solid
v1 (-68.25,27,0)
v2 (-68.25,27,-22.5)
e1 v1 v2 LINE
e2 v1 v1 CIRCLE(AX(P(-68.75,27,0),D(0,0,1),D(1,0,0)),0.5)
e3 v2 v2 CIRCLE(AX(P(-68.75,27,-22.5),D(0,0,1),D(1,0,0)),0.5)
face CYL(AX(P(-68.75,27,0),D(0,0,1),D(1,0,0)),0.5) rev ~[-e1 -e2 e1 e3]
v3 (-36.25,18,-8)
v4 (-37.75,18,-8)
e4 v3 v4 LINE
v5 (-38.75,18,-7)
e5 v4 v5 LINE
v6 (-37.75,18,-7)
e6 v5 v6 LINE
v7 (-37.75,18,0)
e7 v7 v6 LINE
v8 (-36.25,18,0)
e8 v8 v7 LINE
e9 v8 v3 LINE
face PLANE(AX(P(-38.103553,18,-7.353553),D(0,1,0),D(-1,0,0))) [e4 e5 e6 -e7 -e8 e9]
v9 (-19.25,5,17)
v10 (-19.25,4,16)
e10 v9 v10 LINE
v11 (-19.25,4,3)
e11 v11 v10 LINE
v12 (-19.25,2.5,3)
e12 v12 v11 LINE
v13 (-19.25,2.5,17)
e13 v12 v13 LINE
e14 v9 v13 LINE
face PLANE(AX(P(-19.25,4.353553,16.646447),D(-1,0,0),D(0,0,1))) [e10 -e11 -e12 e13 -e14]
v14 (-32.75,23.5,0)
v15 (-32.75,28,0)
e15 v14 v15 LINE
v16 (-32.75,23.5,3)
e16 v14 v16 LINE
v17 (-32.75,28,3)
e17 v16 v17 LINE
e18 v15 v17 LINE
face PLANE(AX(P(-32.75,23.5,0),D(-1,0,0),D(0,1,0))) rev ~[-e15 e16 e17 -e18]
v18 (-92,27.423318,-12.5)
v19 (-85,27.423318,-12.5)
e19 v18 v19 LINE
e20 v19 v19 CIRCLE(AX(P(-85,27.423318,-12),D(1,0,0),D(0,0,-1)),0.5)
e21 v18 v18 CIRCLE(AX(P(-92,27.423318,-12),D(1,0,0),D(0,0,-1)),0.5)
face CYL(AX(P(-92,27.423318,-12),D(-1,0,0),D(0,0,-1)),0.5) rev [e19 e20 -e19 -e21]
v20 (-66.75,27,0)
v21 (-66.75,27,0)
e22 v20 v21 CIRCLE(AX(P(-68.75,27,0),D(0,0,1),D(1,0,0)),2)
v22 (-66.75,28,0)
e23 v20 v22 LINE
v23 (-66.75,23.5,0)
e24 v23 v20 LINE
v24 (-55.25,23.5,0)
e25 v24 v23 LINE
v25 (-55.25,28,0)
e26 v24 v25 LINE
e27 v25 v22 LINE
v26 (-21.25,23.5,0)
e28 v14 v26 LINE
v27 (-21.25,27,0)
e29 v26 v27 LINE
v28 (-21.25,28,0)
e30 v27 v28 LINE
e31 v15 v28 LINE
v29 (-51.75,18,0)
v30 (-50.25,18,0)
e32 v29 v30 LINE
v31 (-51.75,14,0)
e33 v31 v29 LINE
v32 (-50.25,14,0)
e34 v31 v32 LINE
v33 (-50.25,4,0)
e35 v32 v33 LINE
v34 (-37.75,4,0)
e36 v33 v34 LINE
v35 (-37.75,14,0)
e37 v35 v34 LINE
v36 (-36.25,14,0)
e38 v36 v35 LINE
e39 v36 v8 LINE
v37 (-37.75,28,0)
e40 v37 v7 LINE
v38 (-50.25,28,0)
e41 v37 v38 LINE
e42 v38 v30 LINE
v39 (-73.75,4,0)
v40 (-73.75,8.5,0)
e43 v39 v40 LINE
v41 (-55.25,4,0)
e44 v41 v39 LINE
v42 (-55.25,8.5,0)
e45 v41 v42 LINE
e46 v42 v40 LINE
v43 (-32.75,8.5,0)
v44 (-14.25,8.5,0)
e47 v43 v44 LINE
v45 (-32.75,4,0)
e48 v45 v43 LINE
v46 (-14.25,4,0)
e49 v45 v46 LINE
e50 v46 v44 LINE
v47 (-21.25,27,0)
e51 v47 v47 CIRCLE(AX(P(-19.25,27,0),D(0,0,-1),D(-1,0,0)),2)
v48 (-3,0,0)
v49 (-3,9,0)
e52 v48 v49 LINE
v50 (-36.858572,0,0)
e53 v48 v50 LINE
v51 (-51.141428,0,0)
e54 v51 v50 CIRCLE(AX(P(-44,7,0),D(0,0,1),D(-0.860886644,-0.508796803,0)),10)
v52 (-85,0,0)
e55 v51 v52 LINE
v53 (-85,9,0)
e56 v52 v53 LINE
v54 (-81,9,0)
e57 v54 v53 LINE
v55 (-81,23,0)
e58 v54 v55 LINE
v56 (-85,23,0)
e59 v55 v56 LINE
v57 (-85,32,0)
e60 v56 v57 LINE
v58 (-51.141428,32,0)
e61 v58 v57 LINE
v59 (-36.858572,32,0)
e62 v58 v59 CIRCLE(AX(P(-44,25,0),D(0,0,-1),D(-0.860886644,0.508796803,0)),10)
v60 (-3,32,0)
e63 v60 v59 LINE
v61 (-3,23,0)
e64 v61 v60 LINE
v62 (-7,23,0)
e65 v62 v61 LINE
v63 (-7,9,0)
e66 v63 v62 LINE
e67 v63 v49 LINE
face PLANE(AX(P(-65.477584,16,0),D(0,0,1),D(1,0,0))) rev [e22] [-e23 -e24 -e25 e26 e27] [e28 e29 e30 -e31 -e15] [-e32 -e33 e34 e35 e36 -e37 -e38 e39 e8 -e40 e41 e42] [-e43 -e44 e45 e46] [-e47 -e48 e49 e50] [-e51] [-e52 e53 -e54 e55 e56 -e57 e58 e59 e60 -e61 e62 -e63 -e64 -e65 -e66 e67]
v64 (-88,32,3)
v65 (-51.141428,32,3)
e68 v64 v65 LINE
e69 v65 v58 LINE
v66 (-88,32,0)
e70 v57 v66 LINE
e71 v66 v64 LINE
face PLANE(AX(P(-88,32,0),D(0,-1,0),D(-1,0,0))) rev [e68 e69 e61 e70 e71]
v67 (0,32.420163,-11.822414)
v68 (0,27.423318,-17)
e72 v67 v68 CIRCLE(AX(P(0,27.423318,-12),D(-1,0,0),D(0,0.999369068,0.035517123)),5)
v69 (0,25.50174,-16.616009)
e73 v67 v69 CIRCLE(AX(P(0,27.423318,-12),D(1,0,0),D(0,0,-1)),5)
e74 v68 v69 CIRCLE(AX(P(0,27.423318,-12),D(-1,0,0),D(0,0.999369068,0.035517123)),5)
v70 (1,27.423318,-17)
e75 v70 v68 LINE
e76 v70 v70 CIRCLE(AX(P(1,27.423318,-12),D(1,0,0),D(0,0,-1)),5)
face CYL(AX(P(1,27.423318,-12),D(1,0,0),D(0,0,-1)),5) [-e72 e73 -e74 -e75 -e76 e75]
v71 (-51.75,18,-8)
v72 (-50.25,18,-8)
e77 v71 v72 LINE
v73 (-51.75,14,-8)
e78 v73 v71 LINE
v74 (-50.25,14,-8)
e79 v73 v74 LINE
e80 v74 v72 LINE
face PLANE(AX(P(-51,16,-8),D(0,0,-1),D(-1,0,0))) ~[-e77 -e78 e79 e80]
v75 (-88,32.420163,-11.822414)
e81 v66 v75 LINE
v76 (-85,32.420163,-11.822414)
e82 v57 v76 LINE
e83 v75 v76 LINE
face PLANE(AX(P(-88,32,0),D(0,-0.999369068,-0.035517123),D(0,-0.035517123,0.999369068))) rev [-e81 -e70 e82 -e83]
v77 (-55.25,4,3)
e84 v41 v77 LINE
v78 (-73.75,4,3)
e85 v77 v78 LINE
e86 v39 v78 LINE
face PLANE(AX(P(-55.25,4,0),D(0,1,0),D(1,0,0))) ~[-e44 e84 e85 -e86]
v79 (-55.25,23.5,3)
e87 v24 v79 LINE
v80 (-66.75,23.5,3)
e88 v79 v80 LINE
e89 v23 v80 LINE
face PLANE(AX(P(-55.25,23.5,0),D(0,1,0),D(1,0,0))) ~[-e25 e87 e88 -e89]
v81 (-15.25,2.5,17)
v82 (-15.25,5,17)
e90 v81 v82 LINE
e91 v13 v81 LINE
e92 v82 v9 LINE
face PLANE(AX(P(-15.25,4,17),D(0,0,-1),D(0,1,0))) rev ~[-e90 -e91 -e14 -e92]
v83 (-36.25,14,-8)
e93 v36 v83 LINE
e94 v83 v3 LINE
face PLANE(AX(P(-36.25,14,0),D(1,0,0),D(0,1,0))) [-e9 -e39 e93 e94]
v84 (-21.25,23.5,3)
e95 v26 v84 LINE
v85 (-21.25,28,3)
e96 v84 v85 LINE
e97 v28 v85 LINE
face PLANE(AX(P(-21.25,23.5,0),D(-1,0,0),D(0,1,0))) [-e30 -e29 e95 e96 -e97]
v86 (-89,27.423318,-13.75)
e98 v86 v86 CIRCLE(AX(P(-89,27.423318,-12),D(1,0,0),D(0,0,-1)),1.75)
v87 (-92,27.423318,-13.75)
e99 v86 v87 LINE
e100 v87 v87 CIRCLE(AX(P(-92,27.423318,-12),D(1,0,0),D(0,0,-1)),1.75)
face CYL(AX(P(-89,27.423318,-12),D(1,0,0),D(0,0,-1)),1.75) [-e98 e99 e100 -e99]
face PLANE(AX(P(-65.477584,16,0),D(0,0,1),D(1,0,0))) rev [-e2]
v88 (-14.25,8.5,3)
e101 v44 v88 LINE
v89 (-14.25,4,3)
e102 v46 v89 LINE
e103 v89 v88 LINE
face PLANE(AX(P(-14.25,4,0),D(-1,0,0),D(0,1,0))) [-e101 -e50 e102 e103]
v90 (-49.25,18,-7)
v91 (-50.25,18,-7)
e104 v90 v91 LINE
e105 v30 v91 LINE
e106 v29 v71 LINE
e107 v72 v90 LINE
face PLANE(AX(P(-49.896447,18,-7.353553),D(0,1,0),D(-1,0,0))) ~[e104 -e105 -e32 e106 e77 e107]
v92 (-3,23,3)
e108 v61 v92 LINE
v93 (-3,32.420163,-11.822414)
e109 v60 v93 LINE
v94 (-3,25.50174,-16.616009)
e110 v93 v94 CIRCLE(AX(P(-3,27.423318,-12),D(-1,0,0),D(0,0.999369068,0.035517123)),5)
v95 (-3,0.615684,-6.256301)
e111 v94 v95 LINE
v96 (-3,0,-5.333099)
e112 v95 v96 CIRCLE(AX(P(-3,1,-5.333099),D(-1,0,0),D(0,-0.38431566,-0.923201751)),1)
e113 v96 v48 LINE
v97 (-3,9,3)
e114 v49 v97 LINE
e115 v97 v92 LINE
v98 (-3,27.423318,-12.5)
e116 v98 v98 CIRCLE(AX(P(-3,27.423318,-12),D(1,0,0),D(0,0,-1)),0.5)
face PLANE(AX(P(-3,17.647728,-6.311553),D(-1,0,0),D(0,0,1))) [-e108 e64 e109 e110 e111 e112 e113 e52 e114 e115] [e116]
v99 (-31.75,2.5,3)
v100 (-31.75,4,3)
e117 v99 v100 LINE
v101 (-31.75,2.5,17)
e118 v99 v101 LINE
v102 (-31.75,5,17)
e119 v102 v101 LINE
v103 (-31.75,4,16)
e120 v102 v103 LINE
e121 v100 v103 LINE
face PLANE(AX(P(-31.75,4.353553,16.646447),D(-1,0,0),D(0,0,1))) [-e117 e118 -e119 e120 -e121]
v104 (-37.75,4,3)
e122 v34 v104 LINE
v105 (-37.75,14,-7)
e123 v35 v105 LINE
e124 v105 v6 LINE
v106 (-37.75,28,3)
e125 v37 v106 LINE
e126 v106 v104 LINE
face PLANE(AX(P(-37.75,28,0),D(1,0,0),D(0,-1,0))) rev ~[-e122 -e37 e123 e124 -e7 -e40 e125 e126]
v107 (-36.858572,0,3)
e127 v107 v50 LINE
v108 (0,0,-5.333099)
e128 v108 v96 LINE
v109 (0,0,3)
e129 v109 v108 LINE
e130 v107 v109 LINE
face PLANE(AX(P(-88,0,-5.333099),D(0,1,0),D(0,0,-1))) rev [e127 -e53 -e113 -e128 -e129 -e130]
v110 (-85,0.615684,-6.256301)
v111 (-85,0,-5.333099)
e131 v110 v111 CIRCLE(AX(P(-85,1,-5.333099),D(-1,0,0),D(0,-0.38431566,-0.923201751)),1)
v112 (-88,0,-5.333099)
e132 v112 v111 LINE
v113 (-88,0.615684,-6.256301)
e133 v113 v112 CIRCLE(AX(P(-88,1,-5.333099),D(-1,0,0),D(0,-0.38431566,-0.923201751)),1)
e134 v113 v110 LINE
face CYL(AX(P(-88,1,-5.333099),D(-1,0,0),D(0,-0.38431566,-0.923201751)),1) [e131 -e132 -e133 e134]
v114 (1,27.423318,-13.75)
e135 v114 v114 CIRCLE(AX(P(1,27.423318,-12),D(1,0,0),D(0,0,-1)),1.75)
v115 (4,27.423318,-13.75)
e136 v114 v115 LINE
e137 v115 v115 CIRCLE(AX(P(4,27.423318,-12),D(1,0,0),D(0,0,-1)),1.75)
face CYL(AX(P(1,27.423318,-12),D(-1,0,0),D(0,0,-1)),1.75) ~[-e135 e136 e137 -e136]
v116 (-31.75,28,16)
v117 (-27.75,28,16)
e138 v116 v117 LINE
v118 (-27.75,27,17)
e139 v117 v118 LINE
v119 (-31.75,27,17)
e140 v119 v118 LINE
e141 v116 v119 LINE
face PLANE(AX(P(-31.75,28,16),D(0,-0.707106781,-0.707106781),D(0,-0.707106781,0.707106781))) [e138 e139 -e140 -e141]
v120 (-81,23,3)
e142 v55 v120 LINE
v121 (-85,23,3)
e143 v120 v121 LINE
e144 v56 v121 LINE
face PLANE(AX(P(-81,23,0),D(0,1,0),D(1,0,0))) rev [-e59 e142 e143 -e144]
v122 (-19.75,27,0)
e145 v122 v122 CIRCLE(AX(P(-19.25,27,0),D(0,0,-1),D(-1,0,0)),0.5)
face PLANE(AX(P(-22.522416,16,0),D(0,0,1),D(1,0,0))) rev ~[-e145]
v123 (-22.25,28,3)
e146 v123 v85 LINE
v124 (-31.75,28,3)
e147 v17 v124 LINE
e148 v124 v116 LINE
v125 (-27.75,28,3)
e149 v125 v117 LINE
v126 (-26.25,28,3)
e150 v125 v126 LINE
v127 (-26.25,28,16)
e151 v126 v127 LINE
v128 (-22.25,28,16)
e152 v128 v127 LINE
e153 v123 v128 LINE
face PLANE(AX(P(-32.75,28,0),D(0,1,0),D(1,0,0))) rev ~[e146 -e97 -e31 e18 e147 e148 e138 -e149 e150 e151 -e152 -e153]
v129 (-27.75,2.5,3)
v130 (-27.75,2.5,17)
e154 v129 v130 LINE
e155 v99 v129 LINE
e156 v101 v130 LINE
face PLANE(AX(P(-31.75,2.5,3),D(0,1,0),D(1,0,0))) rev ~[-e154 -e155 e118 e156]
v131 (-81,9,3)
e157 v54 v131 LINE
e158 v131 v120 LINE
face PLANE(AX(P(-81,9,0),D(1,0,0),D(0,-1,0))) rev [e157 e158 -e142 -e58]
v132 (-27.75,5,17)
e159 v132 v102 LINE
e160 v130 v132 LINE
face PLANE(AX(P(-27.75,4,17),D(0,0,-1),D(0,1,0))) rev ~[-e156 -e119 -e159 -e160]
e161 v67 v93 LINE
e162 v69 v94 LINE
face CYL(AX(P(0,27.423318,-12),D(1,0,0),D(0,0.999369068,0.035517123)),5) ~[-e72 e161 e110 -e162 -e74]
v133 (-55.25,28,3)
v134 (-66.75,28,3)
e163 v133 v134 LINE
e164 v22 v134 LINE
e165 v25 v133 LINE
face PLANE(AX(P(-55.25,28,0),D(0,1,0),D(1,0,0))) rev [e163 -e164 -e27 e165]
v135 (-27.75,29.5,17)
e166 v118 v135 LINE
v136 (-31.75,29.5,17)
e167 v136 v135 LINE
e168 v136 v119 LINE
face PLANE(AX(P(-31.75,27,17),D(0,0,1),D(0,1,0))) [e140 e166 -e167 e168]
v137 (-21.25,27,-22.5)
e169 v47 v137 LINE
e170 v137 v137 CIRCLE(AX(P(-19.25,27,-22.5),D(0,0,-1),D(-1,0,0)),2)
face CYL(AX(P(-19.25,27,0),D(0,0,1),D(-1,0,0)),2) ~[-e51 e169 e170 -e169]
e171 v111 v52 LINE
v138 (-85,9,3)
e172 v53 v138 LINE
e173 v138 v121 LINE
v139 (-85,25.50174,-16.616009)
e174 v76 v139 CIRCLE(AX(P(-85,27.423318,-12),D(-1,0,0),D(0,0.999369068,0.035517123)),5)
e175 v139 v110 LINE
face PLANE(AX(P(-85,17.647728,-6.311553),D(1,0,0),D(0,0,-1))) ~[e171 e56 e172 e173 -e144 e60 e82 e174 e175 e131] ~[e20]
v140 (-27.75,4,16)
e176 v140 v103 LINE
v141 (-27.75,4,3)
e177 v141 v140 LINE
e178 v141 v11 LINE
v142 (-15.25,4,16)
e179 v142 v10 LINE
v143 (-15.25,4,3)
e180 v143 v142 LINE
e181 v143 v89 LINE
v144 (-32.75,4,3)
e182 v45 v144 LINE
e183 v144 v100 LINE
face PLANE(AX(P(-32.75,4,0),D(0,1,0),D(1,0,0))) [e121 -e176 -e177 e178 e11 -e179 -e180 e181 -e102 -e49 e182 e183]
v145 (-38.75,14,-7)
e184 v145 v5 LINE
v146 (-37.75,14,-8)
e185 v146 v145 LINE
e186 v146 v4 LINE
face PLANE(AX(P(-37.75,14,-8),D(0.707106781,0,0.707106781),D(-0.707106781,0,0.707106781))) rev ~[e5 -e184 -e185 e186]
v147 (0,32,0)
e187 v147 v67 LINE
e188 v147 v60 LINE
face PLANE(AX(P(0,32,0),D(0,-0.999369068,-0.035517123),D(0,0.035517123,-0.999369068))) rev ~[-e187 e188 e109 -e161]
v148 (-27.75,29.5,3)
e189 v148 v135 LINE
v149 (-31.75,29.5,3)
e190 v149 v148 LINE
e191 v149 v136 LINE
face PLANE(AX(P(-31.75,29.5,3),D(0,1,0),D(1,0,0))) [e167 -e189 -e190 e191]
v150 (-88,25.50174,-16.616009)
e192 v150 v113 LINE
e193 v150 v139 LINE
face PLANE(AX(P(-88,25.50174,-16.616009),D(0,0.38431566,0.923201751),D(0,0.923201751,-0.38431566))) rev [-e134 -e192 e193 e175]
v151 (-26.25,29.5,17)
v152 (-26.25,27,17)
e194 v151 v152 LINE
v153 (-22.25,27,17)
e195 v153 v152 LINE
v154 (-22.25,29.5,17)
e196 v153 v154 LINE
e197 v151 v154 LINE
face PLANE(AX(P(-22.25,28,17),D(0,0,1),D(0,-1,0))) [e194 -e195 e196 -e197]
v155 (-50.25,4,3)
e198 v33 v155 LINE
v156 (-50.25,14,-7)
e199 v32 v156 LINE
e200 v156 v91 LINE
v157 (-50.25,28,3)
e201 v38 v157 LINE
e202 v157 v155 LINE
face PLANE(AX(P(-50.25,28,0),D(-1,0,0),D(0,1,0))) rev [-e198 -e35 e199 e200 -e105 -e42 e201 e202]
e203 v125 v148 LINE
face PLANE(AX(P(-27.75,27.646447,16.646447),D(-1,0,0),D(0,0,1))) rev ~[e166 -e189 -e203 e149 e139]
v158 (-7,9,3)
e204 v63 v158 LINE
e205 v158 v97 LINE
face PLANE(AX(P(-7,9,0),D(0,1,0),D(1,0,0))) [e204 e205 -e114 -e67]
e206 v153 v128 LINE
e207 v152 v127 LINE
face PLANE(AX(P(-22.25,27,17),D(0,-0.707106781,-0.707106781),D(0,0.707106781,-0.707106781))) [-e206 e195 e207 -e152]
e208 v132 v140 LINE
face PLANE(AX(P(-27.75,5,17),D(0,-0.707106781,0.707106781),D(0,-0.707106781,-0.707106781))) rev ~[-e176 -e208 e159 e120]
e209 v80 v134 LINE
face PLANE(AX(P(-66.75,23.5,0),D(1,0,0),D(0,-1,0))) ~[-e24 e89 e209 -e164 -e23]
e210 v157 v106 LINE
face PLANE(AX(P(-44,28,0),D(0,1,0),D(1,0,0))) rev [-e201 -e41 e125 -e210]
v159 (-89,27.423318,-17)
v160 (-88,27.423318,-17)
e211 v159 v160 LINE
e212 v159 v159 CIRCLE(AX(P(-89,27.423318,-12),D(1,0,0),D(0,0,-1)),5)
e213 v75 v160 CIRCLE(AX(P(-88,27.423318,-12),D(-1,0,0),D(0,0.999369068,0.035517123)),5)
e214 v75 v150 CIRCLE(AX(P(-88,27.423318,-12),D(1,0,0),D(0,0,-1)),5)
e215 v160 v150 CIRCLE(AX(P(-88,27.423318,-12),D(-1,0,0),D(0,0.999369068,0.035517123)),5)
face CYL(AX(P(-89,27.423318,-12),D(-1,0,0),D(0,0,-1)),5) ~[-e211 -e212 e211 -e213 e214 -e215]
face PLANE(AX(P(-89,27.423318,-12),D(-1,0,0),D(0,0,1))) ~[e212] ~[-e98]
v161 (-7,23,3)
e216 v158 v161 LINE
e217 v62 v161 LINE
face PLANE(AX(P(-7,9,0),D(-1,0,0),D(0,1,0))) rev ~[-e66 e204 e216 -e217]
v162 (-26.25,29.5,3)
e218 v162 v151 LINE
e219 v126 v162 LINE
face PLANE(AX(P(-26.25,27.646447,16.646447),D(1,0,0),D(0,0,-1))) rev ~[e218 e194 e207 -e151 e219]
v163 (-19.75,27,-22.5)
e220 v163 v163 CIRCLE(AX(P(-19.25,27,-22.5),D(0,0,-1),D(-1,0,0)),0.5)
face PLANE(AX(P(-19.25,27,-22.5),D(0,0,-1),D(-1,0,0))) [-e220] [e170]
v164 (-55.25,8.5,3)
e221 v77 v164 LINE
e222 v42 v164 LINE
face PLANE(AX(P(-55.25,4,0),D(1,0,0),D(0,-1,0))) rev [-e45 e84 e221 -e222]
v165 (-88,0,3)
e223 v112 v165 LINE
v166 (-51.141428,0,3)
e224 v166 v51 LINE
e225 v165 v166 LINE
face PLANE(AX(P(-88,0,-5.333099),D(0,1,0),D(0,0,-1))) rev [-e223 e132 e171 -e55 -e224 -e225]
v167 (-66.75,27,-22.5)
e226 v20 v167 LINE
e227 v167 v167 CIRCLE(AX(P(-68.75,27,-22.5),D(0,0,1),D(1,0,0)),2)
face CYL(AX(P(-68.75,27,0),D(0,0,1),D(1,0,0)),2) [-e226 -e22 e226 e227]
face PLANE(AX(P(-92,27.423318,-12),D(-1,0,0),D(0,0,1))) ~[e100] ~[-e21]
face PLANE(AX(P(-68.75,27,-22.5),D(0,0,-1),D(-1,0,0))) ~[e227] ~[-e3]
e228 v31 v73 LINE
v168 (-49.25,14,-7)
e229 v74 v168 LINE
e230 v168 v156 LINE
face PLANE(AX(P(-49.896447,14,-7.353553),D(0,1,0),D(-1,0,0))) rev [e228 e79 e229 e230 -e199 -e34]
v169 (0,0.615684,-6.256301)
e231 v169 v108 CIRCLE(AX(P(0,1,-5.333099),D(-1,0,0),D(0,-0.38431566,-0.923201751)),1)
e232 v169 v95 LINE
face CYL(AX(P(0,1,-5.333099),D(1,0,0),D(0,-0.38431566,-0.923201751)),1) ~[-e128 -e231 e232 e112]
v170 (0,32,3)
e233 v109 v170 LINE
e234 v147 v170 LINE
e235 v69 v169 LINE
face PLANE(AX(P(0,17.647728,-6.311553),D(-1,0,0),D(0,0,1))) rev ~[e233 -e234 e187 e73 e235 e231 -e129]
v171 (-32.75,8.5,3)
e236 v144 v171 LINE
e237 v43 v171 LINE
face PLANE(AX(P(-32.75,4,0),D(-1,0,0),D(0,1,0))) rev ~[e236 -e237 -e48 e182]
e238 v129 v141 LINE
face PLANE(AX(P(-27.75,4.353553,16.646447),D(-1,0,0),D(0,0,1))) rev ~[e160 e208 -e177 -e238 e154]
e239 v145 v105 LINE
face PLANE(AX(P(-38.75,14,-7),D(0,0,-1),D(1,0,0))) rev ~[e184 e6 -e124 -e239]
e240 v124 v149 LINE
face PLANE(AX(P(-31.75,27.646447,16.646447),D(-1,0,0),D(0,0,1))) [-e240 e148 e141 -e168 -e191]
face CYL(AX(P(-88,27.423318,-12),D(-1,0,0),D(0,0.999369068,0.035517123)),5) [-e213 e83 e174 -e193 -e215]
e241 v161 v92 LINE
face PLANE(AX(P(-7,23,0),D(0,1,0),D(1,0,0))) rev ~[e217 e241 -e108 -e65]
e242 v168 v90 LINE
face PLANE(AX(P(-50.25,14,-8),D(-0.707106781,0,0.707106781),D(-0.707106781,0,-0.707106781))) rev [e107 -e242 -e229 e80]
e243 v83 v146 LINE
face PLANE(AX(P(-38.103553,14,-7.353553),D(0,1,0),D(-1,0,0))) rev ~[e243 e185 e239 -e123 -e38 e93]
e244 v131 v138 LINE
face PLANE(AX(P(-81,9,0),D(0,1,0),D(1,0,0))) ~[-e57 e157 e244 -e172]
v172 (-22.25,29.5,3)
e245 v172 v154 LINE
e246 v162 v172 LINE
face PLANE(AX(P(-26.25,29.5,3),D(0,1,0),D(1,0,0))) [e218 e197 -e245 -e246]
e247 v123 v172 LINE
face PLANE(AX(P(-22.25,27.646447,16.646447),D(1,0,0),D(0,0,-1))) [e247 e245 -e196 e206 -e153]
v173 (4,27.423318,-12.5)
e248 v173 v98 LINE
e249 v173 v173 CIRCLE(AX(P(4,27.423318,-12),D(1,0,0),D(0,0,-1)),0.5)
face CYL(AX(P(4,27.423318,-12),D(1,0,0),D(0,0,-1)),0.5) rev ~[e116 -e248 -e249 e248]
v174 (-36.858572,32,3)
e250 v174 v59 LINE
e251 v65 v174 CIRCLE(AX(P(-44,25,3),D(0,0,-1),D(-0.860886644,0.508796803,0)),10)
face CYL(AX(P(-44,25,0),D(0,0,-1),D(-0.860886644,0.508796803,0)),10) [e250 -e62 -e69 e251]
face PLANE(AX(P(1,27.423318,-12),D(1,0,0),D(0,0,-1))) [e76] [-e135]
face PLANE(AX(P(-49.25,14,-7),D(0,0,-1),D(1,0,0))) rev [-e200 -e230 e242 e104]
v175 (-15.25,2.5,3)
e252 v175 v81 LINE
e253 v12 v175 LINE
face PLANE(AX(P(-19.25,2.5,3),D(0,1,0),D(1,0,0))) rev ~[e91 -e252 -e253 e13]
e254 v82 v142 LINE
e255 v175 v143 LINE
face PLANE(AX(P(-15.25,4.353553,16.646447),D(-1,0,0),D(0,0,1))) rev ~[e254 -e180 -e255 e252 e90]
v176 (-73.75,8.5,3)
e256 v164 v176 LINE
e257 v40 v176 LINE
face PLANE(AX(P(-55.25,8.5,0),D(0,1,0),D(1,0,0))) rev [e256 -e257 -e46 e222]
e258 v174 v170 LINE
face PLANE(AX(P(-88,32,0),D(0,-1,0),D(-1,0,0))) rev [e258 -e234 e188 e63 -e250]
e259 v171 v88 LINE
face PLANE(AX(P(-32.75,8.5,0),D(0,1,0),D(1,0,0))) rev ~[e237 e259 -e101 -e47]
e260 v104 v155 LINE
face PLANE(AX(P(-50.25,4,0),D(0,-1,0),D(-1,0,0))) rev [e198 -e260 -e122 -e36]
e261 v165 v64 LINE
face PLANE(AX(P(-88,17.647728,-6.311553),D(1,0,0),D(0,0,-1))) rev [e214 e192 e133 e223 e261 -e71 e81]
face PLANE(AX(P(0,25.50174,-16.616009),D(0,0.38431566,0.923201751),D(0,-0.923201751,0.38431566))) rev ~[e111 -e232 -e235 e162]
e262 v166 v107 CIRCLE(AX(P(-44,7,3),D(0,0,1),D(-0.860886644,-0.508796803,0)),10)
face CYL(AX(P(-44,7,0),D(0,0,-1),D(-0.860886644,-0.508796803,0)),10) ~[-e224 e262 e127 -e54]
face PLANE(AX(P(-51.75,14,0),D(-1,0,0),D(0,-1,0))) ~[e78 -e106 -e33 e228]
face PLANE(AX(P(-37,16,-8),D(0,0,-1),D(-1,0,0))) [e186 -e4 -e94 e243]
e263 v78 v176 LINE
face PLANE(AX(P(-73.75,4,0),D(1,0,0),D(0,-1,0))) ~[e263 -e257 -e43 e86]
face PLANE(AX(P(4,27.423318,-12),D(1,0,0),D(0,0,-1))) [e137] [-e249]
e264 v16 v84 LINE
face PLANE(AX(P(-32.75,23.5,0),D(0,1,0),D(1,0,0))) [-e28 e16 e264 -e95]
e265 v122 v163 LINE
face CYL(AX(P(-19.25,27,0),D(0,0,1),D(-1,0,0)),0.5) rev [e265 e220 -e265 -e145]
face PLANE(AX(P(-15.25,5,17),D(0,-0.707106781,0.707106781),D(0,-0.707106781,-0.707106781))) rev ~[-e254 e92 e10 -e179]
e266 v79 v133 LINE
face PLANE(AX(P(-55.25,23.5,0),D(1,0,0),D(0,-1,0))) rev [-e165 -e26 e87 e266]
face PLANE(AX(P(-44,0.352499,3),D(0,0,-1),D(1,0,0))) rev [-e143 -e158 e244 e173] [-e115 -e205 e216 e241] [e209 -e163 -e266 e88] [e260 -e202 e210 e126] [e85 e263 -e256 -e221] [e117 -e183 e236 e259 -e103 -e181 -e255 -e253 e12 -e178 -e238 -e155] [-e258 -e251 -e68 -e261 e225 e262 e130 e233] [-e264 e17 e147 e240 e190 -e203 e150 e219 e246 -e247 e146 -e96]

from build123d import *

# Parameters (mm, degrees)
ESQUISSE1_W             = 11.5
ESQUISSE1_H             = 4.5
ESQUISSE1_W_2           = 18.5
ESQUISSE1_W_3           = 4
ESQUISSE1_H_2           = 14
BOSS_EXTRU_1_DEPTH      = 3
BOSS_EXTRU_2_DEPTH      = 3
ESQUISSE3_R             = 2
ESQUISSE3_R_2           = 0.5
BOSS_EXTRU_3_DEPTH      = 22.5
BOSS_EXTRU_4_START      = 1
ESQUISSE4_R             = 5
BOSS_EXTRU_4_DEPTH      = 1
ESQUISSE5_R             = 1.75
BOSS_EXTRU_5_DEPTH      = 3
ESQUISSE6_R             = 0.5
ENL_V_MAT_EXTRU_1_DEPTH = 7
ESQUISSE8_W             = 1.5
ESQUISSE8_H             = 4
BOSS_EXTRU_7_DEPTH      = 8
BOSS_EXTRU_8_DEPTH      = 4
BOSS_EXTRU_6_DEPTH      = 3
ESQUISSE10_W            = 4
ESQUISSE10_H            = 1.5
BOSS_EXTRU_9_DEPTH      = 14
BOSS_EXTRU_11_DEPTH     = 4
BOSS_EXTRU_12_DEPTH     = 4
BOSS_EXTRU_13_DEPTH     = 4
BOSS_EXTRU_14_DEPTH     = 4


with BuildPart() as part:
    # Esquisse1 → Boss.-Extru.1 (new body)
    with BuildSketch(Plane.XY):
        Polygon((-44, 32), (-44, 28), (-37.75, 28), (-37.75, 4), (-44, 4), (-44, 0), (0, 0), (0, 32), align=None)
        with Locations((-27, 25.75)):
            Rectangle(ESQUISSE1_W, ESQUISSE1_H, mode=Mode.SUBTRACT)
        with Locations((-23.5, 6.25)):
            Rectangle(ESQUISSE1_W_2, ESQUISSE1_H, mode=Mode.SUBTRACT)
        with Locations((-5, 16)):
            Rectangle(ESQUISSE1_W_3, ESQUISSE1_H_2, mode=Mode.SUBTRACT)
    boss_extru_1 = extrude(amount=BOSS_EXTRU_1_DEPTH)

    # Esquisse2 → Boss.-Extru.2 (add)
    with BuildSketch(Plane(origin=(0, 0, 0), x_dir=(0, 0, -1), z_dir=(1, 0, 0))):
        with BuildLine():
            Line((0, 32), (11.822414385, 32.42016324))
            ThreePointArc((11.822414385, 32.42016324), (16.109871823, 30.270940346), (16.616008757, 25.501739602))
            Line((16.616008757, 25.501739602), (6.256300568, 0.61568434))
            ThreePointArc((6.256300568, 0.61568434), (5.887934081, 0.168039767), (5.333098817, 0))
            Line((5.333098817, 0), (0, 0))
            Line((0, 0), (0, 32))
        make_face()
    boss_extru_2 = extrude(amount=-BOSS_EXTRU_2_DEPTH)

    # Esquisse3 → Boss.-Extru.3 (add)
    with BuildSketch(Plane(origin=(0, 0, 0), x_dir=(-1, 0, 0), z_dir=(0, 0, -1))):
        with Locations((19.25, 27)):
            Circle(ESQUISSE3_R)
        with Locations((19.25, 27)):
            Circle(ESQUISSE3_R_2, mode=Mode.SUBTRACT)
    boss_extru_3 = extrude(amount=BOSS_EXTRU_3_DEPTH)

    # Esquisse4 → Boss.-Extru.4 (add)
    with BuildSketch(Plane(origin=(0, 0, 0), x_dir=(0, 0, -1), z_dir=(1, 0, 0)).offset(BOSS_EXTRU_4_START)):
        with Locations((12, 27.4233179)):
            Circle(ESQUISSE4_R)
    boss_extru_4 = extrude(amount=-BOSS_EXTRU_4_DEPTH)

    # Esquisse5 → Boss.-Extru.5 (add)
    with BuildSketch(Plane(origin=(1, 0, 0), x_dir=(0, 0, -1), z_dir=(1, 0, 0))):
        with Locations((12, 27.4233179)):
            Circle(ESQUISSE5_R)
    boss_extru_5 = extrude(amount=BOSS_EXTRU_5_DEPTH)

    # Esquisse6 → Enlèv. mat.-Extru.1 (cut)
    with BuildSketch(Plane(origin=(4, 0, 0), x_dir=(0, 0, -1), z_dir=(1, 0, 0))):
        with Locations((12, 27.4233179)):
            Circle(ESQUISSE6_R)
    enl_v_mat_extru_1 = extrude(amount=-ENL_V_MAT_EXTRU_1_DEPTH, mode=Mode.SUBTRACT)

    # Esquisse8 → Boss.-Extru.7 (add)
    with BuildSketch(Plane(origin=(0, 0, 0), x_dir=(-1, 0, 0), z_dir=(0, 0, -1))):
        with Locations((37, 16)):
            Rectangle(ESQUISSE8_W, ESQUISSE8_H)
    boss_extru_7 = extrude(amount=BOSS_EXTRU_7_DEPTH)

    # Esquisse9 → Boss.-Extru.8 (add)
    with BuildSketch(Plane.XZ.offset(-14)):
        Polygon((-37.75, -8), (-38.75, -7), (-37.75, -7), align=None)
    boss_extru_8 = extrude(amount=-BOSS_EXTRU_8_DEPTH)

    # Symétrie1: Boss.-Extru.1, Boss.-Extru.2, Boss.-Extru.3, Boss.-Extru.4, Boss.-Extru.5, Enlèv. mat.-Extru.1, Boss.-Extru.7, Boss.-Extru.8 across plane
    add(boss_extru_1.mirror(Plane(origin=(-44, 32, 3), x_dir=(0, 0, 1), z_dir=(1, 0, 0))))
    add(boss_extru_2.mirror(Plane(origin=(-44, 32, 3), x_dir=(0, 0, 1), z_dir=(1, 0, 0))))
    add(boss_extru_3.mirror(Plane(origin=(-44, 32, 3), x_dir=(0, 0, 1), z_dir=(1, 0, 0))))
    add(boss_extru_4.mirror(Plane(origin=(-44, 32, 3), x_dir=(0, 0, 1), z_dir=(1, 0, 0))))
    add(boss_extru_5.mirror(Plane(origin=(-44, 32, 3), x_dir=(0, 0, 1), z_dir=(1, 0, 0))))
    add(enl_v_mat_extru_1.mirror(Plane(origin=(-44, 32, 3), x_dir=(0, 0, 1), z_dir=(1, 0, 0))), mode=Mode.SUBTRACT)
    add(boss_extru_7.mirror(Plane(origin=(-44, 32, 3), x_dir=(0, 0, 1), z_dir=(1, 0, 0))))
    add(boss_extru_8.mirror(Plane(origin=(-44, 32, 3), x_dir=(0, 0, 1), z_dir=(1, 0, 0))))

    # Esquisse7 → Boss.-Extru.6 (add)
    with BuildSketch(Plane(origin=(0, 0, 0), x_dir=(-1, 0, 0), z_dir=(0, 0, -1))):
        with BuildLine():
            Line((35.391133561, 30.087968026), (52.608866439, 30.087968026))
            ThreePointArc((52.608866439, 30.087968026), (44, 35), (35.391133561, 30.087968026))
        make_face()
    boss_extru_6 = extrude(amount=-BOSS_EXTRU_6_DEPTH)

    # Symétrie2: Boss.-Extru.6 across plane
    add(boss_extru_6.mirror(Plane(origin=(0, 16, 0), x_dir=(0, 0, 1), z_dir=(0, -1, 0))))

    # Esquisse10 → Boss.-Extru.9 (add)
    with BuildSketch(Plane.XY.offset(3)):
        with Locations((-29.75, 28.75)):
            Rectangle(ESQUISSE10_W, ESQUISSE10_H)
        with Locations((-24.25, 28.75)):
            Rectangle(ESQUISSE10_W, ESQUISSE10_H)
        with Locations((-29.75, 3.25)):
            Rectangle(ESQUISSE10_W, ESQUISSE10_H)
        with Locations((-17.25, 3.25)):
            Rectangle(ESQUISSE10_W, ESQUISSE10_H)
    extrude(amount=BOSS_EXTRU_9_DEPTH)

    # Esquisse11 → Boss.-Extru.11 (add)
    with BuildSketch(Plane(origin=(-15.25, 0, 0), x_dir=(0, 0, -1), z_dir=(1, 0, 0))):
        Polygon((-17, 4), (-17, 5), (-16, 4), align=None)
    extrude(amount=-BOSS_EXTRU_11_DEPTH)

    # Esquisse12 → Boss.-Extru.12 (add)
    with BuildSketch(Plane(origin=(-27.75, 0, 0), x_dir=(0, 0, -1), z_dir=(1, 0, 0))):
        Polygon((-17, 4), (-17, 5), (-16, 4), align=None)
    extrude(amount=-BOSS_EXTRU_12_DEPTH)

    # Esquisse13 → Boss.-Extru.13 (add)
    with BuildSketch(Plane(origin=(-22.25, 0, 0), x_dir=(0, 0, -1), z_dir=(1, 0, 0))):
        Polygon((-17, 28), (-17, 27), (-16, 28), align=None)
    extrude(amount=-BOSS_EXTRU_13_DEPTH)

    # Esquisse14 → Boss.-Extru.14 (add)
    with BuildSketch(Plane.ZY.offset(31.75)):
        Polygon((17, 28), (16, 28), (17, 27), align=None)
    extrude(amount=-BOSS_EXTRU_14_DEPTH)


solid = part.part
